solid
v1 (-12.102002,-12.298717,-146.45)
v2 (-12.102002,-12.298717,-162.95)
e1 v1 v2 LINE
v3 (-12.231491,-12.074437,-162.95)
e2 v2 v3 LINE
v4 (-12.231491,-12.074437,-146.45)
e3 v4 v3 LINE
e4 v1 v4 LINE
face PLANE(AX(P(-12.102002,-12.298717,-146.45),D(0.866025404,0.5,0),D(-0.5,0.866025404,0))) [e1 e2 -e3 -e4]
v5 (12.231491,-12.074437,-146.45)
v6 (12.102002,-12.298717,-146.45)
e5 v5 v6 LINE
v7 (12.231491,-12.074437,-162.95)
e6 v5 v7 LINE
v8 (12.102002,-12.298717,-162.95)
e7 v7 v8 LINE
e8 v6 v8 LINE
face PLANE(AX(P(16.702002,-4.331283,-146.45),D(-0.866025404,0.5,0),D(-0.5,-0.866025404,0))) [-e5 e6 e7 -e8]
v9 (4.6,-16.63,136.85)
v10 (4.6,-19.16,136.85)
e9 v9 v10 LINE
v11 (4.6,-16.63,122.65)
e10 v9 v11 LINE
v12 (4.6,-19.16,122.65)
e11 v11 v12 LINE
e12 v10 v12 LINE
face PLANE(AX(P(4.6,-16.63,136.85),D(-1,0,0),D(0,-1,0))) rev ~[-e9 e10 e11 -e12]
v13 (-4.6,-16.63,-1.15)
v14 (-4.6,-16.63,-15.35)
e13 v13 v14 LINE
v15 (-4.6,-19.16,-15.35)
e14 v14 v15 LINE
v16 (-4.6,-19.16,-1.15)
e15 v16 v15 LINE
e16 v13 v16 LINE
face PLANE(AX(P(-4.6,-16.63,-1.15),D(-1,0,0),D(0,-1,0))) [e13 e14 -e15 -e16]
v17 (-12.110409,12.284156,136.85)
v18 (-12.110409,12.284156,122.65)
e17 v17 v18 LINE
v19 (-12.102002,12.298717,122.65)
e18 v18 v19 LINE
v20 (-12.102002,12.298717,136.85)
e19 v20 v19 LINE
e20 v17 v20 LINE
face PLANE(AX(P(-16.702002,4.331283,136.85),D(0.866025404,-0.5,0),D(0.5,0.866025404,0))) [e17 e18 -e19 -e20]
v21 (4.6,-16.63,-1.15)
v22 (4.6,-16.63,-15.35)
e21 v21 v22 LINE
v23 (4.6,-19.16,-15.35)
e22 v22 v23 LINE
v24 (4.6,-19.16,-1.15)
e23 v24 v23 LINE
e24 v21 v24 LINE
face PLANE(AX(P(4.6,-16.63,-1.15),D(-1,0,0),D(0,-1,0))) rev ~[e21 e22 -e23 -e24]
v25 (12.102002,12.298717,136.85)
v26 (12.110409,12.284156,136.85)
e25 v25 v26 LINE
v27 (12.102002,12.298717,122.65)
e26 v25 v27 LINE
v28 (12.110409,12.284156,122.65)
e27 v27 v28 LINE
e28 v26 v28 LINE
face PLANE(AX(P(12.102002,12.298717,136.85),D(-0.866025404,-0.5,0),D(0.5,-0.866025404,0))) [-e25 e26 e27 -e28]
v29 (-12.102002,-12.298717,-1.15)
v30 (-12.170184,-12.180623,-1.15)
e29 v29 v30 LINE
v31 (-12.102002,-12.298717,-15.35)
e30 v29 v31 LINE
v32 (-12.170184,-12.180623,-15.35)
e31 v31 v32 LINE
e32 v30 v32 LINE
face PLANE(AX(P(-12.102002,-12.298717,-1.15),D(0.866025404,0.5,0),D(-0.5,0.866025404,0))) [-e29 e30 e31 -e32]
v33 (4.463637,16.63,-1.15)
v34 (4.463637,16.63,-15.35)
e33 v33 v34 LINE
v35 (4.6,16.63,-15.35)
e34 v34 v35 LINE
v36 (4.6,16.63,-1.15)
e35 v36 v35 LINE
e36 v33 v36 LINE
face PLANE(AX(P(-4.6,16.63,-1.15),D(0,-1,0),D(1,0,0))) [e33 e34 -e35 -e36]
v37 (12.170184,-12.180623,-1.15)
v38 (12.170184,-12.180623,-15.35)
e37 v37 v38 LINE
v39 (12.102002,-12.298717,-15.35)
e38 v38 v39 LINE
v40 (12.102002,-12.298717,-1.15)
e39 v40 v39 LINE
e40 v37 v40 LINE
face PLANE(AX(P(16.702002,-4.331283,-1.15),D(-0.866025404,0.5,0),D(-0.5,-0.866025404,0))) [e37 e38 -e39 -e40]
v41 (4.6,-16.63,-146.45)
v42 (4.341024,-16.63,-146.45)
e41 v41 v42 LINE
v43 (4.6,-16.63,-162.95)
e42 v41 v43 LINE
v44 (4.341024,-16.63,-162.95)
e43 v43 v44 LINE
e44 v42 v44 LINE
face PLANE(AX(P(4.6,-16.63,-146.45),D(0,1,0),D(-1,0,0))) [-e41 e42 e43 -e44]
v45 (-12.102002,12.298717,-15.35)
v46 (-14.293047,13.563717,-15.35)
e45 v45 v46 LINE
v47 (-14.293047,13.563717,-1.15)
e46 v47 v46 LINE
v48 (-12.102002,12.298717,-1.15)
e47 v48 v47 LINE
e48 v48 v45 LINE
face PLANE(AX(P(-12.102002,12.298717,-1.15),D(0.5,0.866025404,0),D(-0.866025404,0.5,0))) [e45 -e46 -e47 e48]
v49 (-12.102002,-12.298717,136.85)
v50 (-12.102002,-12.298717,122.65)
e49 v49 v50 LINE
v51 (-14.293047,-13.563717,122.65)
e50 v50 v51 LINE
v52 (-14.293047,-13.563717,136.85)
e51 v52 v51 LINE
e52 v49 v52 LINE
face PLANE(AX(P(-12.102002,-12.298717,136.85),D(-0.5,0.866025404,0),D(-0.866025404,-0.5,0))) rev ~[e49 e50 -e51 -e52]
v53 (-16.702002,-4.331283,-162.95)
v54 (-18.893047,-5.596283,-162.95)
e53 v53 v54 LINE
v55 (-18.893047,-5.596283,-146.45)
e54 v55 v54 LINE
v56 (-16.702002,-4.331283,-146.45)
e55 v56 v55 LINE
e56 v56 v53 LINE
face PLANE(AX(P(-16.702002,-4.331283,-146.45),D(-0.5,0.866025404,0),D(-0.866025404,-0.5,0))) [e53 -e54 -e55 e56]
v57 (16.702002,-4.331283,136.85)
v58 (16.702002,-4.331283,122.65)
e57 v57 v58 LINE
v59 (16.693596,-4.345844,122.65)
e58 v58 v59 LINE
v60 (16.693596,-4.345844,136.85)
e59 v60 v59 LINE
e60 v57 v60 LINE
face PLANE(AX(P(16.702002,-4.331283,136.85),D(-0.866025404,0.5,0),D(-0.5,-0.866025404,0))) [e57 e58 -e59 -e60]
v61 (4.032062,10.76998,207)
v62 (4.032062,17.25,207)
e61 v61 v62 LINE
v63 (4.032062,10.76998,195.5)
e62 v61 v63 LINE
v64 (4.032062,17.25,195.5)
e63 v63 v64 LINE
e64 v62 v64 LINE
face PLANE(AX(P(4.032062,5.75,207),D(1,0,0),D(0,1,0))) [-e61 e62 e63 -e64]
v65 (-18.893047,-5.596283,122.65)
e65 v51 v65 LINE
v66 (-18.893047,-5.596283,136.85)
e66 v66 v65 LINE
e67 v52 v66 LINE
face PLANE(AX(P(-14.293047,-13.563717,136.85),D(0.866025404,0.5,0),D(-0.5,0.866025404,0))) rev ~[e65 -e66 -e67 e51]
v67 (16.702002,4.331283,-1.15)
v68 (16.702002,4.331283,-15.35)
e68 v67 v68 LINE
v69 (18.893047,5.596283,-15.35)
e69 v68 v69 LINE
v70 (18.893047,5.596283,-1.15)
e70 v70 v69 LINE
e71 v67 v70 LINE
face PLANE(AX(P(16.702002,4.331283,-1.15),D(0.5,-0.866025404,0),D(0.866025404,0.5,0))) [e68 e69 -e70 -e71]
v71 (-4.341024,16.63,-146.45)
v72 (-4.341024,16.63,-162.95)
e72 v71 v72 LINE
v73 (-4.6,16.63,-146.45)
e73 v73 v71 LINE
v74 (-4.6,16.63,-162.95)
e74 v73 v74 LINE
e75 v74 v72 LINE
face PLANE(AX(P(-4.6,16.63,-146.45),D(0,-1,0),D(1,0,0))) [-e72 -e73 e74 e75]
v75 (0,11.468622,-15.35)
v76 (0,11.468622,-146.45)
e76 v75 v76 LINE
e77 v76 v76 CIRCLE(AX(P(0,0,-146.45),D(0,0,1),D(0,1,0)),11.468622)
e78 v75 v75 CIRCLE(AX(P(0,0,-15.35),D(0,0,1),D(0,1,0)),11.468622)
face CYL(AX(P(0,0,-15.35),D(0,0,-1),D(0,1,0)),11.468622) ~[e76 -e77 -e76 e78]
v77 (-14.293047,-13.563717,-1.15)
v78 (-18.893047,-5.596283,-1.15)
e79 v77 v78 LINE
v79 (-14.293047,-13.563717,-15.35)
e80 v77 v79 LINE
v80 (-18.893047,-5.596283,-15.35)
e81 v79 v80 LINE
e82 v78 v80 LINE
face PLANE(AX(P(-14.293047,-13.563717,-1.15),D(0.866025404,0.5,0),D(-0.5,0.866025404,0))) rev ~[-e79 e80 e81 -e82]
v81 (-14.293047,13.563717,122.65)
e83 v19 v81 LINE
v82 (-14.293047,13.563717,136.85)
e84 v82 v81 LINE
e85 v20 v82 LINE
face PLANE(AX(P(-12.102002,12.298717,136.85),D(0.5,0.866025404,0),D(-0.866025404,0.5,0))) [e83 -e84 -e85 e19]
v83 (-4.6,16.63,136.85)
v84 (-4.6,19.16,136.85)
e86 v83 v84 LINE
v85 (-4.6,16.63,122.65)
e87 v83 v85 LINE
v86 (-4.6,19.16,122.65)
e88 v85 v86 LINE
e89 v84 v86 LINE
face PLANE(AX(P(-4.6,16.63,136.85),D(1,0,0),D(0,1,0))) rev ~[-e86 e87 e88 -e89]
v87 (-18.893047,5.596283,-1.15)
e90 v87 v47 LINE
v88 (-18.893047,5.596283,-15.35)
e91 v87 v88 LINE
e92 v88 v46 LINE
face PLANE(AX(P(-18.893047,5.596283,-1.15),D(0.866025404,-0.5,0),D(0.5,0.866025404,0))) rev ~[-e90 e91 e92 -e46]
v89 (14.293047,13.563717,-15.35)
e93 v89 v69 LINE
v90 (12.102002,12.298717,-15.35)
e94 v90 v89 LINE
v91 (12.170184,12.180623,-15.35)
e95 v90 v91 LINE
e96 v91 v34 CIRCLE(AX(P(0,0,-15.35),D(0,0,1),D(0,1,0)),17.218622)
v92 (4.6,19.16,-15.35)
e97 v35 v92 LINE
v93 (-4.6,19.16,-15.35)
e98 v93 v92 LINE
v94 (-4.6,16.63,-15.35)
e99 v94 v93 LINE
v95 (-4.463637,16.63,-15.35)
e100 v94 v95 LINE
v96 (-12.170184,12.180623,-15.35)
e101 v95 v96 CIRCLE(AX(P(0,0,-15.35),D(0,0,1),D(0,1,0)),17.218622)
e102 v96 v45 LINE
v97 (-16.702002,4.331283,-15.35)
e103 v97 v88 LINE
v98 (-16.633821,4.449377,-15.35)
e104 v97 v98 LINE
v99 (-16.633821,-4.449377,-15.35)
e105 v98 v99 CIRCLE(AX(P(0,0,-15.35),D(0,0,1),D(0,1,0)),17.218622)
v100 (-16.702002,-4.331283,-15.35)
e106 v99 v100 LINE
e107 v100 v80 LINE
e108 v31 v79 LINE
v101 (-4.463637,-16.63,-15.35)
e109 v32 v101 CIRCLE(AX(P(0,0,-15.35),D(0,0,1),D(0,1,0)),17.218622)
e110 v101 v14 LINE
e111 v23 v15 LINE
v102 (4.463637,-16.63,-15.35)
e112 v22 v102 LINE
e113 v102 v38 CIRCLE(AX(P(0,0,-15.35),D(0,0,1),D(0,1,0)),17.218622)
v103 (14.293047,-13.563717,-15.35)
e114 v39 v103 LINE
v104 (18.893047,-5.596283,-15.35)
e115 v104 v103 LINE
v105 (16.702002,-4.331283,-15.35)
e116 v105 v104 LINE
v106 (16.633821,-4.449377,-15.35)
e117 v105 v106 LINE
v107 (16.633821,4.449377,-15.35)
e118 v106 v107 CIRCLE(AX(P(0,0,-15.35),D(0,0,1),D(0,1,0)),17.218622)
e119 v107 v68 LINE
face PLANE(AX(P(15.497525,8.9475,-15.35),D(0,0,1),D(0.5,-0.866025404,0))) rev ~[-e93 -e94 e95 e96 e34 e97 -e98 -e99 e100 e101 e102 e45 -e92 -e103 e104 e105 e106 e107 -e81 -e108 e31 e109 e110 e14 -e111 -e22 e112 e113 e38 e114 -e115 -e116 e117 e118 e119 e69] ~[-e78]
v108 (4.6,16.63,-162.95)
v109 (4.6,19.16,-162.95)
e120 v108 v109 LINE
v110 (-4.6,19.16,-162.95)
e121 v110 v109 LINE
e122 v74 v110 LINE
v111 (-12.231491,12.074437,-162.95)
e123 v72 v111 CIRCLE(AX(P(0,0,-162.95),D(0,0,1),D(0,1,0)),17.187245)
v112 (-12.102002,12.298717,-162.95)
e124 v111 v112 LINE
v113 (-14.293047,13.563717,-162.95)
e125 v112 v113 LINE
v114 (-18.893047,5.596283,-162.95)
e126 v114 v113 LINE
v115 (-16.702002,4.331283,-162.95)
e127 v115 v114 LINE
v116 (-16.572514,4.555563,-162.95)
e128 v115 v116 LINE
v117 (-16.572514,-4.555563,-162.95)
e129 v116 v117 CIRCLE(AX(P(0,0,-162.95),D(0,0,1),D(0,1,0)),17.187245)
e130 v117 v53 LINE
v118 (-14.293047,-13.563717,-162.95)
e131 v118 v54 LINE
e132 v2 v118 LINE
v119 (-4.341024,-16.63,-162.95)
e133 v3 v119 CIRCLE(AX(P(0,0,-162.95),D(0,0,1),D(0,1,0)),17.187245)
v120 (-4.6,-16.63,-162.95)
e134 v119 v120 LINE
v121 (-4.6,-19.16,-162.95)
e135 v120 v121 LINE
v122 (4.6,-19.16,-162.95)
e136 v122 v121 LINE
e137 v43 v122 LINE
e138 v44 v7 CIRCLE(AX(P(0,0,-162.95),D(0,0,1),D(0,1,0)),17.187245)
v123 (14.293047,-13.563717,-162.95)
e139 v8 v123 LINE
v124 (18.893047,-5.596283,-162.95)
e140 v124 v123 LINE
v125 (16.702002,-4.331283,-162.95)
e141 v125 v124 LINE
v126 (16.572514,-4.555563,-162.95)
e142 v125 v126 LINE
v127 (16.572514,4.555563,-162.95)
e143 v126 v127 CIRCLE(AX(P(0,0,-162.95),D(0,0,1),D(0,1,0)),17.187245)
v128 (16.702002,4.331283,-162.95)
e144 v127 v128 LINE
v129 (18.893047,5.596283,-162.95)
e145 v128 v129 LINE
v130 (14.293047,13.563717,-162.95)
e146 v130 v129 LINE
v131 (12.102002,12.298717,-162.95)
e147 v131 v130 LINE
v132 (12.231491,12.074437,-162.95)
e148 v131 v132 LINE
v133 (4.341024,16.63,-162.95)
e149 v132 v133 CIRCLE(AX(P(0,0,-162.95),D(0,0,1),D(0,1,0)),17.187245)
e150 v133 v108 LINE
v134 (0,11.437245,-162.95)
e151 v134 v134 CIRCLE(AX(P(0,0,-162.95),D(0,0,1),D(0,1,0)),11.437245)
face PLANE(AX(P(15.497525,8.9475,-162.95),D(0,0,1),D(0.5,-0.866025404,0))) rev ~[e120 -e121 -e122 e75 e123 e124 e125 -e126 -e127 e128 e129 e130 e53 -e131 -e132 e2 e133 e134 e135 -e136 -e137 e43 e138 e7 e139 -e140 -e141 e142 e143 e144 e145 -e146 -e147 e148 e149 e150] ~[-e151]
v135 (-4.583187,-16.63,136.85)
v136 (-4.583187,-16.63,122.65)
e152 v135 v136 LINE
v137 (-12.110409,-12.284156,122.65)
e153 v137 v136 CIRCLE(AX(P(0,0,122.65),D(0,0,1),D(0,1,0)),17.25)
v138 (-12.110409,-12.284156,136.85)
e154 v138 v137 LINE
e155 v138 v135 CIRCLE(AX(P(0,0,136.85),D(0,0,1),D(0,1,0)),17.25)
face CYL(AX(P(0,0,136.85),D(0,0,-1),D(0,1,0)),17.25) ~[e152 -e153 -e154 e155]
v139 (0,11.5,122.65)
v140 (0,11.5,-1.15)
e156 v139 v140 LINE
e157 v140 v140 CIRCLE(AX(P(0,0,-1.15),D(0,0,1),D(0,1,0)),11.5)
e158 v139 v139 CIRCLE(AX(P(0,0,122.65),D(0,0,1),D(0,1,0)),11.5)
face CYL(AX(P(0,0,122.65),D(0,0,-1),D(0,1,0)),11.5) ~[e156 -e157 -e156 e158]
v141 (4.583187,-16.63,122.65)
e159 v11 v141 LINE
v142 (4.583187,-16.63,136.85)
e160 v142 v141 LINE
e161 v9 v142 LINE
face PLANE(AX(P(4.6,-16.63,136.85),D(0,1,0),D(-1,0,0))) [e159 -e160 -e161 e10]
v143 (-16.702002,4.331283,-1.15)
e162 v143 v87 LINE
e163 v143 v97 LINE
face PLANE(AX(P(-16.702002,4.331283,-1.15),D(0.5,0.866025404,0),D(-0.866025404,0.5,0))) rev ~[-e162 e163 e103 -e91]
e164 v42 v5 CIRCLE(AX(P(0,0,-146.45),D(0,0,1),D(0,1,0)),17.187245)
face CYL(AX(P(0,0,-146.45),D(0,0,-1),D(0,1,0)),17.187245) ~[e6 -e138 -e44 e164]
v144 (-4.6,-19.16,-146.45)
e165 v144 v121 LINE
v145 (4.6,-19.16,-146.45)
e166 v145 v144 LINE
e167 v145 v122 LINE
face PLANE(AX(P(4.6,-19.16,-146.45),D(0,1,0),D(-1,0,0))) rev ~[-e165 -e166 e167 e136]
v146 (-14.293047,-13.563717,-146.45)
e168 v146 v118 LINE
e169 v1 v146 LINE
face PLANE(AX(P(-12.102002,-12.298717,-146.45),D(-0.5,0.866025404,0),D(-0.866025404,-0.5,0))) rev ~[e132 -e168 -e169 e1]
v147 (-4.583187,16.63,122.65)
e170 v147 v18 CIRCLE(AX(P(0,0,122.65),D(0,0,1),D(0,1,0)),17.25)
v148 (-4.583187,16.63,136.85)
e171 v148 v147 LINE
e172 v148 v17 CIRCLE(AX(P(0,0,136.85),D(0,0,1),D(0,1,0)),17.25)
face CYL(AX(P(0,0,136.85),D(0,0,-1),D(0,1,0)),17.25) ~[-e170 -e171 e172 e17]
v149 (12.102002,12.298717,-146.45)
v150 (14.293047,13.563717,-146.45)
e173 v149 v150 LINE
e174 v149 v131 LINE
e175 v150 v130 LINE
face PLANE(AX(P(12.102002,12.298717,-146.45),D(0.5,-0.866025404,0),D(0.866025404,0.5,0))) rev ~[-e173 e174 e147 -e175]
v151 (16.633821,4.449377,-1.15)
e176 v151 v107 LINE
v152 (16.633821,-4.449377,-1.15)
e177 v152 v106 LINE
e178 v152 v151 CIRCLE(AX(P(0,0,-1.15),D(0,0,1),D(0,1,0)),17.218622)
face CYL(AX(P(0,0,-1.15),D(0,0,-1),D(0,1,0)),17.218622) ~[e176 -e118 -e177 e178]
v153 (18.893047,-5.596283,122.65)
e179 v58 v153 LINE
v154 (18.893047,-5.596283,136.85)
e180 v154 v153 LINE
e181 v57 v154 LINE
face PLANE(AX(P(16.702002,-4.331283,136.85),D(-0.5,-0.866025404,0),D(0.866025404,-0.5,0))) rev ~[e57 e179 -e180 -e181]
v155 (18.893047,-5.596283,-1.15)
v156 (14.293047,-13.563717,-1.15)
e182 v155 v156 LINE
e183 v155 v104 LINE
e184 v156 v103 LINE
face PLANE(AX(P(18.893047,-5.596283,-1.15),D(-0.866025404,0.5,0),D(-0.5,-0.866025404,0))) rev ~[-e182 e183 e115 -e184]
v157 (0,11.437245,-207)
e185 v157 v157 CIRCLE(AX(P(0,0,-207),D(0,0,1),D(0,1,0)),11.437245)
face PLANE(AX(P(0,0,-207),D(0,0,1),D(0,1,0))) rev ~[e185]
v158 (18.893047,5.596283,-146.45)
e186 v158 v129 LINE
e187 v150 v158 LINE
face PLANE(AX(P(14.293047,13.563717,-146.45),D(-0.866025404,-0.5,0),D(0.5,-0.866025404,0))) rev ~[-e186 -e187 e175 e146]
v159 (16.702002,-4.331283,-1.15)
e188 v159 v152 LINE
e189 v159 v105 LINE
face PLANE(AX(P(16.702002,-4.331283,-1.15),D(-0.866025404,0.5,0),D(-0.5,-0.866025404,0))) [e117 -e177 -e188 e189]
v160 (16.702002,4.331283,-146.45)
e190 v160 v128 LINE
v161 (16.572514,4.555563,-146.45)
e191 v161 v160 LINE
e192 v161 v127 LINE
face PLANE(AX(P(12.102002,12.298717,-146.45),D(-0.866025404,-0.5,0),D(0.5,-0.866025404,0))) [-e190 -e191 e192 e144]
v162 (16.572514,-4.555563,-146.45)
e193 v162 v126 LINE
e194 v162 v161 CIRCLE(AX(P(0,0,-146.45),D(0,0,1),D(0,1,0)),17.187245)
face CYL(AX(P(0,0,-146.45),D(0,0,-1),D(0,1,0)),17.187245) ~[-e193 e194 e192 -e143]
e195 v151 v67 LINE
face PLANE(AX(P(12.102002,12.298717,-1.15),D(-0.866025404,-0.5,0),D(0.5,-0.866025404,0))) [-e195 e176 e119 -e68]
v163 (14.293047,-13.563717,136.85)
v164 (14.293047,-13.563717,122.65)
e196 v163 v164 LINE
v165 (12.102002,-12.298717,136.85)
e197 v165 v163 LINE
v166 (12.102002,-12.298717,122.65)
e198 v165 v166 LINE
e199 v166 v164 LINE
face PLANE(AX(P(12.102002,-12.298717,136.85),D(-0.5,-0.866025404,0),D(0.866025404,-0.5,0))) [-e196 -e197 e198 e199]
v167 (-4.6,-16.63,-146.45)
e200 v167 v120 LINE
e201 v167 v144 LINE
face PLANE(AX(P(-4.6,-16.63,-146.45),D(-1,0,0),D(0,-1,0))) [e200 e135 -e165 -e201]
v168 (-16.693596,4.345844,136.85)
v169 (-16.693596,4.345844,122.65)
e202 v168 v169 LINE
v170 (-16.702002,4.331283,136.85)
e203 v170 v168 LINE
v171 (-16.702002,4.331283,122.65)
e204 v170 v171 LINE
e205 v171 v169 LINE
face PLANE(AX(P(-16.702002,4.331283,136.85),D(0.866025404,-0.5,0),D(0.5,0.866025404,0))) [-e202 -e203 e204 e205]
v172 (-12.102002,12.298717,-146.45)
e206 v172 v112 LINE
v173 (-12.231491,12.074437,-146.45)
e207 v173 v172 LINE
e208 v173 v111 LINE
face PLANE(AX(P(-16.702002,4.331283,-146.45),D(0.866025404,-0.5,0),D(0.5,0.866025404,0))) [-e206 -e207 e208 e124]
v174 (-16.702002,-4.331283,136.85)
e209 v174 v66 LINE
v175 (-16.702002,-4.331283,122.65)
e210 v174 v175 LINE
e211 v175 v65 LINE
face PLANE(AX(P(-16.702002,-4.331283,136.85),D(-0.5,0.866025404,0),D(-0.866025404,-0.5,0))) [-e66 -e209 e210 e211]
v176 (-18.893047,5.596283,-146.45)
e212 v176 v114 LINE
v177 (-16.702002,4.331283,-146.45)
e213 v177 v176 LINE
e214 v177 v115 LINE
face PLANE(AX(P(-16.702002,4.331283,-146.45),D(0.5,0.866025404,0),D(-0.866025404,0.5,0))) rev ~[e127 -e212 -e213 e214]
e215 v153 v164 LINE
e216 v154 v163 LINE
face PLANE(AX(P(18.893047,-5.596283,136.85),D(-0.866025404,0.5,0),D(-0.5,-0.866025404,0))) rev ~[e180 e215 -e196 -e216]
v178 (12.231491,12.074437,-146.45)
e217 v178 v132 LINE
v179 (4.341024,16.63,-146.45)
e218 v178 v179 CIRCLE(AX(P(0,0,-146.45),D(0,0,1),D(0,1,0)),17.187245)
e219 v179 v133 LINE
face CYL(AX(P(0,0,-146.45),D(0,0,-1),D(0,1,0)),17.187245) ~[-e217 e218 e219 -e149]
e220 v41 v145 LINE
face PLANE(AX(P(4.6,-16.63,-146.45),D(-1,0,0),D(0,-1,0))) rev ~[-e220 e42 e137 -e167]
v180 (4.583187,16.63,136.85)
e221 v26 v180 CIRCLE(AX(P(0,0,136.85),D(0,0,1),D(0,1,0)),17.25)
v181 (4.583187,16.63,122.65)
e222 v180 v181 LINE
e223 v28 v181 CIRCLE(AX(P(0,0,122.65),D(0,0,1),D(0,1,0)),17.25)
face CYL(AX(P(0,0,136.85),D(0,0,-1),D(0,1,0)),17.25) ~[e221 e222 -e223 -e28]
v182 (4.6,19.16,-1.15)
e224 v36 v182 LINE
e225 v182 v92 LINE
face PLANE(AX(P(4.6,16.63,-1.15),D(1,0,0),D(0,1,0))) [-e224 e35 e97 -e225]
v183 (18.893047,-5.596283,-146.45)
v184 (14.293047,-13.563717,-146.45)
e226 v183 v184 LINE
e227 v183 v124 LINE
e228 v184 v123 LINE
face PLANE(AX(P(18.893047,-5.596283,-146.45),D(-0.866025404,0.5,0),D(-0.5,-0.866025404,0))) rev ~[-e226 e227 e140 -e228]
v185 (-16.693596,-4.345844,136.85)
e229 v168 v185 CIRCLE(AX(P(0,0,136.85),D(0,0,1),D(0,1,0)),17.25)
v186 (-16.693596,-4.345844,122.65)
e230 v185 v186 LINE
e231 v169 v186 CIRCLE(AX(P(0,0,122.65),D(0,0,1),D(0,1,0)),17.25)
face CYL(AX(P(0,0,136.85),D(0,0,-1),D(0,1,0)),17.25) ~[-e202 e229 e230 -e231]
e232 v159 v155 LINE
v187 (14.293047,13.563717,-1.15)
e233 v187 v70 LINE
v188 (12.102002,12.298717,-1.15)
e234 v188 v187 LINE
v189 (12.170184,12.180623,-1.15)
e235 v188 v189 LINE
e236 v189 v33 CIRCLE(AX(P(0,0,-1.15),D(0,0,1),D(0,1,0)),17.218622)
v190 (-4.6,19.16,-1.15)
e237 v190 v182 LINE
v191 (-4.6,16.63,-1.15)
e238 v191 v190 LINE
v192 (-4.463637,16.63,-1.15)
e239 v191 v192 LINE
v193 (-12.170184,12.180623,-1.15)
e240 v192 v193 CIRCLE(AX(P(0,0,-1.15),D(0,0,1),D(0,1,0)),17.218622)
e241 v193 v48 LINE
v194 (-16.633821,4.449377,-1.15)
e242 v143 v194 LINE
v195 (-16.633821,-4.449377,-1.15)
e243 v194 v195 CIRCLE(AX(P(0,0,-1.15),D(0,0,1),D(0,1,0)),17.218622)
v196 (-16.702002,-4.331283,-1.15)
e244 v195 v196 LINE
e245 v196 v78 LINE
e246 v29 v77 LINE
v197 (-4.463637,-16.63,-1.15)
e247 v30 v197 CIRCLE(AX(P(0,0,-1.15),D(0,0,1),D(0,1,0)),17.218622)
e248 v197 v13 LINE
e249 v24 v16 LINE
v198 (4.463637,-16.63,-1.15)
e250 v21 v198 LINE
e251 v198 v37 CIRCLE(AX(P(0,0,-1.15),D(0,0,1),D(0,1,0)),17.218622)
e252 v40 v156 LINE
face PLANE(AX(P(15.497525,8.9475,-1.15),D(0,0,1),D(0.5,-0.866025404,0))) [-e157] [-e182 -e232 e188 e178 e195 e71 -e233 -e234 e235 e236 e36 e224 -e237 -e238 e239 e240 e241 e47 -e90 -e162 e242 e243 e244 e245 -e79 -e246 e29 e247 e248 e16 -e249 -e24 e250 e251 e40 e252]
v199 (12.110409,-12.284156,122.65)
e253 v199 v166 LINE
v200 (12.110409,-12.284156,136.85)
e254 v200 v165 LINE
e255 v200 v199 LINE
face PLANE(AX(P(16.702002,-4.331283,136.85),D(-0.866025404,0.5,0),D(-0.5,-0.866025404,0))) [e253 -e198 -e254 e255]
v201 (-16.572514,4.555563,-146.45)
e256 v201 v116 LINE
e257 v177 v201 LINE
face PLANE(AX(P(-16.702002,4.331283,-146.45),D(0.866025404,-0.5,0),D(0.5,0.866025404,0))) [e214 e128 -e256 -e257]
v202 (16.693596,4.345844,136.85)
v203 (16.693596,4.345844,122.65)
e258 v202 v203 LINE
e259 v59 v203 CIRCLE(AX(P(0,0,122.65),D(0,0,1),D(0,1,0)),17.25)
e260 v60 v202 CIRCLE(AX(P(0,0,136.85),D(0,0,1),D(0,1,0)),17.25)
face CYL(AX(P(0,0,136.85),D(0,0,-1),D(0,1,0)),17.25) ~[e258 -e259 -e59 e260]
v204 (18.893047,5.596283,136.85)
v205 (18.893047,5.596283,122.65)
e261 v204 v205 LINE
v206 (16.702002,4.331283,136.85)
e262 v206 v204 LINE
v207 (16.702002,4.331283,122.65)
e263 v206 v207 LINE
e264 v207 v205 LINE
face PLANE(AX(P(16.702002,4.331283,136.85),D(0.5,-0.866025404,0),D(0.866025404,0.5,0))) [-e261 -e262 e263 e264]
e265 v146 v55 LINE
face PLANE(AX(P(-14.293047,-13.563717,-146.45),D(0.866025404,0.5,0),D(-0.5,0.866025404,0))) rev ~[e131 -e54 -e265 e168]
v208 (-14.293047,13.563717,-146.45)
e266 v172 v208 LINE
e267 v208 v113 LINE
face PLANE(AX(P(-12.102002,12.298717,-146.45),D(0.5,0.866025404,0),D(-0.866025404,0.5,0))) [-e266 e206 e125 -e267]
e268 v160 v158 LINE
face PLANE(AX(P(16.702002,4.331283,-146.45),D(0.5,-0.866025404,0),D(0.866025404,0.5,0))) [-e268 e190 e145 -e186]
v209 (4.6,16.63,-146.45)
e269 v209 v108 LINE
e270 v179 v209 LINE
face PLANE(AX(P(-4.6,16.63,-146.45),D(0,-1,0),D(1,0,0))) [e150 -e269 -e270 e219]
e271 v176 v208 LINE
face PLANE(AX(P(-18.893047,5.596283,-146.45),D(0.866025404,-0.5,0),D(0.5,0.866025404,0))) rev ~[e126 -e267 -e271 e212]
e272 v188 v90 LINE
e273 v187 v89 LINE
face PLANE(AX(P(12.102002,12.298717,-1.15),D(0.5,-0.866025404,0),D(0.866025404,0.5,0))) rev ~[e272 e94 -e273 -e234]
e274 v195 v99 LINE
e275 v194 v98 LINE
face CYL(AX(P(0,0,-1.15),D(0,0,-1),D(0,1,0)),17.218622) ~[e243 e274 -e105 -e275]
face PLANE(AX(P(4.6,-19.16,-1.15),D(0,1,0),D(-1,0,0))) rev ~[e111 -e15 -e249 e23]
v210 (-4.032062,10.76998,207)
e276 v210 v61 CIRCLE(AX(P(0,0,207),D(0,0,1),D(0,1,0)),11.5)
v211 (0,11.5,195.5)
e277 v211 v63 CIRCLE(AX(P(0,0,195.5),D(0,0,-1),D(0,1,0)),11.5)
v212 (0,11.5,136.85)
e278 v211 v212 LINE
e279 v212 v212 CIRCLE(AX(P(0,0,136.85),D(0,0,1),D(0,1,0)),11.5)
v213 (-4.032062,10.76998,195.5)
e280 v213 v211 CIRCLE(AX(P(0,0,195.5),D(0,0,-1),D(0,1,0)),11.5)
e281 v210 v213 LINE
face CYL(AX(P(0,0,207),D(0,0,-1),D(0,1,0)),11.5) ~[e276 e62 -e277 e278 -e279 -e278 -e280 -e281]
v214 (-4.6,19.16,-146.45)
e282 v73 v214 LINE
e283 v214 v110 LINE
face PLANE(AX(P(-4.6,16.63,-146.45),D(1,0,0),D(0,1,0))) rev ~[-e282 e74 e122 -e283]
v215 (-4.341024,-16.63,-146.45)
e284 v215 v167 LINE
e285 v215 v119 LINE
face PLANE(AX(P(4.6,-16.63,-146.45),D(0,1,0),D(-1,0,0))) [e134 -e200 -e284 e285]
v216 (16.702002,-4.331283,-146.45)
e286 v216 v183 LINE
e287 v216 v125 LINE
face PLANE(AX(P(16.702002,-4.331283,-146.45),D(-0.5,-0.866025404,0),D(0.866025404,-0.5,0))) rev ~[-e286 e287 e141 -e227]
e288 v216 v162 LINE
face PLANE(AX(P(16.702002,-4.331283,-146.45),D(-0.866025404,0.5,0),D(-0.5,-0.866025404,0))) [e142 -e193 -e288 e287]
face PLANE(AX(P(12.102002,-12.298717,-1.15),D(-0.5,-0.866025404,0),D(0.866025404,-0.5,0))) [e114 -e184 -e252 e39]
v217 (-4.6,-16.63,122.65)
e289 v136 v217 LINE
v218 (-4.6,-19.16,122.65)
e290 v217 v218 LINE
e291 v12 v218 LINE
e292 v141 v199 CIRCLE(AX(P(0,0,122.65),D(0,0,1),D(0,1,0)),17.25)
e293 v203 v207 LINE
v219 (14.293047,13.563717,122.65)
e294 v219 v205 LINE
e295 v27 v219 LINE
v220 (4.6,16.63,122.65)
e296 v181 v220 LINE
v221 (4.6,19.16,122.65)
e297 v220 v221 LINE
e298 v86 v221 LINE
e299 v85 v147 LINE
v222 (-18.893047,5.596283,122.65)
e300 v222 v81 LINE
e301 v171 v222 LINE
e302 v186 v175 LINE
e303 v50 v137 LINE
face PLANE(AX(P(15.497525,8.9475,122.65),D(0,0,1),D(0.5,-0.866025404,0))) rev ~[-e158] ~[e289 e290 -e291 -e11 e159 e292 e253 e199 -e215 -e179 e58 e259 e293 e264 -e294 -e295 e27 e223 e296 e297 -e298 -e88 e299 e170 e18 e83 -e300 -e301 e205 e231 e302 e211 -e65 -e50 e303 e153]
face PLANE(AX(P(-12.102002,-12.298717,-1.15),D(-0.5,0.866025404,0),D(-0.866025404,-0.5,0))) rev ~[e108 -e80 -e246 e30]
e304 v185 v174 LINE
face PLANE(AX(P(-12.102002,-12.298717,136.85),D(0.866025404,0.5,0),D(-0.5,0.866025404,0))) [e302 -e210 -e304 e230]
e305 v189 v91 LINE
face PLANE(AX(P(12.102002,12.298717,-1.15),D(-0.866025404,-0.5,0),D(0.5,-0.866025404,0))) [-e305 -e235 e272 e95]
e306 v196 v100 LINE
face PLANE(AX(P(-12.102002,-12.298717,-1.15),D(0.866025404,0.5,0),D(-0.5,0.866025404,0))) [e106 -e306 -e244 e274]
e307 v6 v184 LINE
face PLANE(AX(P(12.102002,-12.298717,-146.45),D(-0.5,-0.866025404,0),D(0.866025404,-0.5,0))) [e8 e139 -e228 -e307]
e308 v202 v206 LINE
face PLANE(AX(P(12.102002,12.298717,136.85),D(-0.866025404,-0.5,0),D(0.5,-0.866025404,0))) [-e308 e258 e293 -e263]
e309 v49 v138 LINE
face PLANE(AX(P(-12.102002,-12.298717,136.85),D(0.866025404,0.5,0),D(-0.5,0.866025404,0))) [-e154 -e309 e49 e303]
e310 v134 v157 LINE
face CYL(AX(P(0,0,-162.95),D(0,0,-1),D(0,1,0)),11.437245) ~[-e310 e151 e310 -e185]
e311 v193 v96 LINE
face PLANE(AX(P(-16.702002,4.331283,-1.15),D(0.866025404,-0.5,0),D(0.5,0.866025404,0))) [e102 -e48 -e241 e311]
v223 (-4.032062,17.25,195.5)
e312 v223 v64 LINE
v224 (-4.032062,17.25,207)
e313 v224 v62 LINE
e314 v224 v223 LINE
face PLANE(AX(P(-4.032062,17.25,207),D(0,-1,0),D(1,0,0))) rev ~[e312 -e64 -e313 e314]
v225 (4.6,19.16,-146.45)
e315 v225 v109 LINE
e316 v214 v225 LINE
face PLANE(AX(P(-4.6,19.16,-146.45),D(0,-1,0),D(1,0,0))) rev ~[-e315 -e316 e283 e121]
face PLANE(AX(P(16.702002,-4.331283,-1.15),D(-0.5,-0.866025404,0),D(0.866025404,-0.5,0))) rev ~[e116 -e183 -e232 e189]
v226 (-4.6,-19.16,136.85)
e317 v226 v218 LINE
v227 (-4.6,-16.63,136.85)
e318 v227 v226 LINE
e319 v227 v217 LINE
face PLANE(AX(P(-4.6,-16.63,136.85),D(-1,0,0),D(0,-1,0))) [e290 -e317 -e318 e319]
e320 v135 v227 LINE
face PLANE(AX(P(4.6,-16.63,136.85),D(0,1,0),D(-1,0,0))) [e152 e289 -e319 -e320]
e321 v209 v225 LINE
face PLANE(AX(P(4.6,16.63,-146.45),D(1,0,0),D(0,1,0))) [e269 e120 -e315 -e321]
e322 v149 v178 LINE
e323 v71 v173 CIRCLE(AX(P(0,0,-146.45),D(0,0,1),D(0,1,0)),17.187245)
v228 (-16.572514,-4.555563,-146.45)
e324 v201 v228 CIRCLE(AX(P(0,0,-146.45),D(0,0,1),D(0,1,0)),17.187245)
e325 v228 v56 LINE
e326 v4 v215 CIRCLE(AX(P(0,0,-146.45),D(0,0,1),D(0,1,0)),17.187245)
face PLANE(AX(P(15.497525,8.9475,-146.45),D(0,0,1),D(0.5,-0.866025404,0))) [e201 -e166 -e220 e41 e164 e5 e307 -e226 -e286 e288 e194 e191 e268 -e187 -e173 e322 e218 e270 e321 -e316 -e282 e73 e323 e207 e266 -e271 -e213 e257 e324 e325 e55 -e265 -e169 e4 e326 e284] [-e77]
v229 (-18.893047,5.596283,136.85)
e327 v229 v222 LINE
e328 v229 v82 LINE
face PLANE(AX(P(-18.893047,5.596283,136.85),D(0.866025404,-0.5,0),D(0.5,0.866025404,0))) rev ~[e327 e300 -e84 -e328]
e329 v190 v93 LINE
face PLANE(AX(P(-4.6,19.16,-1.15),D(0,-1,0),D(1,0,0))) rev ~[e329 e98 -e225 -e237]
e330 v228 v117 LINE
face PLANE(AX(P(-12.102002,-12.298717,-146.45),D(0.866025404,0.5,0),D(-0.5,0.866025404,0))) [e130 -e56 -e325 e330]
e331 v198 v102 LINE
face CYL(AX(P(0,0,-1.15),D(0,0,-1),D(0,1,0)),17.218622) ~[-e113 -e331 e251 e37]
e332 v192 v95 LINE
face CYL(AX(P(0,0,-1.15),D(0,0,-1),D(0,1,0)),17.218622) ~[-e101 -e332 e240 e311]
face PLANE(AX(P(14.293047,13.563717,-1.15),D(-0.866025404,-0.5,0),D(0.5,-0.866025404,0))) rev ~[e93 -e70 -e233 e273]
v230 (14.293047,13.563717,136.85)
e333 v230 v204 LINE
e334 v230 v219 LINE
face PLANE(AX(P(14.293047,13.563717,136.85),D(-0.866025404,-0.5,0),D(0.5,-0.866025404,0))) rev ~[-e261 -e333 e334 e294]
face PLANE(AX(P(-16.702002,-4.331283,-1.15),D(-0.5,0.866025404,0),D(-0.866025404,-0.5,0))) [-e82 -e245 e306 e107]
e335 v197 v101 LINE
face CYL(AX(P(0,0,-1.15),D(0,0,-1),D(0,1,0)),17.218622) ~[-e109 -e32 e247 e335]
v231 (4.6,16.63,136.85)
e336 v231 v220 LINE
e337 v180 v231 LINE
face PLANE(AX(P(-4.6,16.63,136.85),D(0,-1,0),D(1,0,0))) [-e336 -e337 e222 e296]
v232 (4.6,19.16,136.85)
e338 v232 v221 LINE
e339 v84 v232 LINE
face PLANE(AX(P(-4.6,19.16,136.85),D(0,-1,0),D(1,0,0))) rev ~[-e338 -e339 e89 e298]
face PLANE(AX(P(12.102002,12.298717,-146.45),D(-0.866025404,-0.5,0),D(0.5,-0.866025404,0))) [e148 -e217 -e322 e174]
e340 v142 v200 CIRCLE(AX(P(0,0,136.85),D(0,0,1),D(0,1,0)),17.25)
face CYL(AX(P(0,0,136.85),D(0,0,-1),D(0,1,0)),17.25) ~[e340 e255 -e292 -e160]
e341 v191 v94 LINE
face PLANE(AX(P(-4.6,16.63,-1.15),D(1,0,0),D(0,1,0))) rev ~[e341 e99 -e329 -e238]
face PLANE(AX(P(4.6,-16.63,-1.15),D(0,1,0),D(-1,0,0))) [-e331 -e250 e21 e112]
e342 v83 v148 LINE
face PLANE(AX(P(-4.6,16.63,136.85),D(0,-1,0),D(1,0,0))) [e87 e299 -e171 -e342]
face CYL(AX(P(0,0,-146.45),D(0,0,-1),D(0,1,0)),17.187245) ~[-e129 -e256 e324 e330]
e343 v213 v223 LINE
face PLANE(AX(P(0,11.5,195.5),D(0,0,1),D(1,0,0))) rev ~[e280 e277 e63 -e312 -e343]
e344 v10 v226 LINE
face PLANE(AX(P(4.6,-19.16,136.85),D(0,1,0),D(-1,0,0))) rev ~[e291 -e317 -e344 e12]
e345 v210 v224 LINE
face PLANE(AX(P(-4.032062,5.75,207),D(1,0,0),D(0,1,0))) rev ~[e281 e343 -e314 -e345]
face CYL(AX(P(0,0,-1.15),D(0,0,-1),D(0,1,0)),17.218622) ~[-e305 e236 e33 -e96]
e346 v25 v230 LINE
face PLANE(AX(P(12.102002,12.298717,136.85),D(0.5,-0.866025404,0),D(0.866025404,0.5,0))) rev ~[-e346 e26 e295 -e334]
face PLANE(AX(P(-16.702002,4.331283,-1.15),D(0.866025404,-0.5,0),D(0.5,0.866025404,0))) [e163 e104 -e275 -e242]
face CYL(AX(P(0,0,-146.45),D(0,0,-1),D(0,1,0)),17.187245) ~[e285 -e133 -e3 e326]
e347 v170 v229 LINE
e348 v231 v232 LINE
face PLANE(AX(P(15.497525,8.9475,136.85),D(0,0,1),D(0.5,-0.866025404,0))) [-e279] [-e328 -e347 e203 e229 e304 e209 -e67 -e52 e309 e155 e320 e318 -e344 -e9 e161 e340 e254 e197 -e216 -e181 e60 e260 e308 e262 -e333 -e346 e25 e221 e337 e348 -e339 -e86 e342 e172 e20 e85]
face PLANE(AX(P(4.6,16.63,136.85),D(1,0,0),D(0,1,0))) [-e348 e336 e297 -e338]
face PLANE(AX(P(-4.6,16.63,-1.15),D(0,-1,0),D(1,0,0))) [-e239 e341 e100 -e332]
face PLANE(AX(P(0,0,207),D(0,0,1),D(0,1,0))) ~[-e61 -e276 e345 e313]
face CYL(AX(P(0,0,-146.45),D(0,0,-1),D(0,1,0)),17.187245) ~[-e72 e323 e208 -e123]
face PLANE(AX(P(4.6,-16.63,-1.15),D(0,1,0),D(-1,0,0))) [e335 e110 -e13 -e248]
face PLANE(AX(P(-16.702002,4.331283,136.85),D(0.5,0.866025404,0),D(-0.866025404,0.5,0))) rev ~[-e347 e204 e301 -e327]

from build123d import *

# Parameters (mm, degrees)
BOSS_EXTRUDE2_START = 136.85
SKETCH4_W           = 9.2
SKETCH4_H           = 2.53
BOSS_EXTRUDE2_DEPTH = 14.2
BOSS_EXTRUDE3_START = -1.15
SKETCH4_2_W         = 9.2
SKETCH4_2_H         = 2.53
BOSS_EXTRUDE3_DEPTH = 14.2
BOSS_EXTRUDE4_START = -146.45
SKETCH4_3_W         = 9.2
SKETCH4_3_H         = 2.53
BOSS_EXTRUDE4_DEPTH = 16.5
CIRPATTERN1_COUNT   = 6
CIRPATTERN2_COUNT   = 6
CIRPATTERN3_COUNT   = 6
BOSS_EXTRUDE5_START = 207
SKETCH5_W           = 8.064124356
SKETCH5_H           = 11.5
BOSS_EXTRUDE5_DEPTH = 11.5


with BuildPart() as part:
    # Sketch3 → Revolve1 (revolve)
    with BuildSketch(Plane(origin=(0, 0, 0), x_dir=(0, 0, -1), z_dir=(1, 0, 0))):
        Polygon((-207, 11.5), (-136.85, 11.5), (-136.85, 17.25), (-122.65, 17.25), (-122.65, 11.5), (1.15, 11.5), (1.15, 17.218622442), (15.35, 17.218622442), (15.35, 11.468622442), (146.45, 11.468622442), (146.45, 17.187244885), (162.95, 17.187244885), (162.95, 11.437244885), (207, 11.437244885), (207, 0), (-207, 0), align=None)
    revolve(axis=Axis((0, 0, -207), (0, 0, 1)))

    # Sketch4 → Boss-Extrude2 (add)
    with BuildSketch(Plane.XY.offset(BOSS_EXTRUDE2_START)):
        with Locations((0, 17.895)):
            Rectangle(SKETCH4_W, SKETCH4_H)
    boss_extrude2 = extrude(amount=-BOSS_EXTRUDE2_DEPTH)

    # Sketch4<2> → Boss-Extrude3 (add)
    with BuildSketch(Plane.XY.offset(BOSS_EXTRUDE3_START)):
        with Locations((0, 17.895)):
            Rectangle(SKETCH4_2_W, SKETCH4_2_H)
    boss_extrude3 = extrude(amount=-BOSS_EXTRUDE3_DEPTH)

    # Sketch4<3> → Boss-Extrude4 (add)
    with BuildSketch(Plane.XY.offset(BOSS_EXTRUDE4_START)):
        with Locations((0, 17.895)):
            Rectangle(SKETCH4_3_W, SKETCH4_3_H)
    boss_extrude4 = extrude(amount=-BOSS_EXTRUDE4_DEPTH)

    # CirPattern1: Boss-Extrude3 ×6 about axis
    cirpattern1_axis = Axis((0, 0, 0), (0, 0, 1))
    for i in range(1, CIRPATTERN1_COUNT):
        add(boss_extrude3.rotate(cirpattern1_axis, i * 360 / CIRPATTERN1_COUNT))

    # CirPattern2: Boss-Extrude2 ×6 about axis
    cirpattern2_axis = Axis((0, 0, 0), (0, 0, 1))
    for i in range(1, CIRPATTERN2_COUNT):
        add(boss_extrude2.rotate(cirpattern2_axis, i * 360 / CIRPATTERN2_COUNT))

    # CirPattern3: Boss-Extrude4 ×6 about axis
    cirpattern3_axis = Axis((0, 0, 0), (0, 0, 1))
    for i in range(1, CIRPATTERN3_COUNT):
        add(boss_extrude4.rotate(cirpattern3_axis, i * 360 / CIRPATTERN3_COUNT))

    # Sketch5 → Boss-Extrude5 (add)
    with BuildSketch(Plane.XY.offset(BOSS_EXTRUDE5_START)):
        with Locations((0, 11.5)):
            Rectangle(SKETCH5_W, SKETCH5_H)
    extrude(amount=-BOSS_EXTRUDE5_DEPTH)


solid = part.part
